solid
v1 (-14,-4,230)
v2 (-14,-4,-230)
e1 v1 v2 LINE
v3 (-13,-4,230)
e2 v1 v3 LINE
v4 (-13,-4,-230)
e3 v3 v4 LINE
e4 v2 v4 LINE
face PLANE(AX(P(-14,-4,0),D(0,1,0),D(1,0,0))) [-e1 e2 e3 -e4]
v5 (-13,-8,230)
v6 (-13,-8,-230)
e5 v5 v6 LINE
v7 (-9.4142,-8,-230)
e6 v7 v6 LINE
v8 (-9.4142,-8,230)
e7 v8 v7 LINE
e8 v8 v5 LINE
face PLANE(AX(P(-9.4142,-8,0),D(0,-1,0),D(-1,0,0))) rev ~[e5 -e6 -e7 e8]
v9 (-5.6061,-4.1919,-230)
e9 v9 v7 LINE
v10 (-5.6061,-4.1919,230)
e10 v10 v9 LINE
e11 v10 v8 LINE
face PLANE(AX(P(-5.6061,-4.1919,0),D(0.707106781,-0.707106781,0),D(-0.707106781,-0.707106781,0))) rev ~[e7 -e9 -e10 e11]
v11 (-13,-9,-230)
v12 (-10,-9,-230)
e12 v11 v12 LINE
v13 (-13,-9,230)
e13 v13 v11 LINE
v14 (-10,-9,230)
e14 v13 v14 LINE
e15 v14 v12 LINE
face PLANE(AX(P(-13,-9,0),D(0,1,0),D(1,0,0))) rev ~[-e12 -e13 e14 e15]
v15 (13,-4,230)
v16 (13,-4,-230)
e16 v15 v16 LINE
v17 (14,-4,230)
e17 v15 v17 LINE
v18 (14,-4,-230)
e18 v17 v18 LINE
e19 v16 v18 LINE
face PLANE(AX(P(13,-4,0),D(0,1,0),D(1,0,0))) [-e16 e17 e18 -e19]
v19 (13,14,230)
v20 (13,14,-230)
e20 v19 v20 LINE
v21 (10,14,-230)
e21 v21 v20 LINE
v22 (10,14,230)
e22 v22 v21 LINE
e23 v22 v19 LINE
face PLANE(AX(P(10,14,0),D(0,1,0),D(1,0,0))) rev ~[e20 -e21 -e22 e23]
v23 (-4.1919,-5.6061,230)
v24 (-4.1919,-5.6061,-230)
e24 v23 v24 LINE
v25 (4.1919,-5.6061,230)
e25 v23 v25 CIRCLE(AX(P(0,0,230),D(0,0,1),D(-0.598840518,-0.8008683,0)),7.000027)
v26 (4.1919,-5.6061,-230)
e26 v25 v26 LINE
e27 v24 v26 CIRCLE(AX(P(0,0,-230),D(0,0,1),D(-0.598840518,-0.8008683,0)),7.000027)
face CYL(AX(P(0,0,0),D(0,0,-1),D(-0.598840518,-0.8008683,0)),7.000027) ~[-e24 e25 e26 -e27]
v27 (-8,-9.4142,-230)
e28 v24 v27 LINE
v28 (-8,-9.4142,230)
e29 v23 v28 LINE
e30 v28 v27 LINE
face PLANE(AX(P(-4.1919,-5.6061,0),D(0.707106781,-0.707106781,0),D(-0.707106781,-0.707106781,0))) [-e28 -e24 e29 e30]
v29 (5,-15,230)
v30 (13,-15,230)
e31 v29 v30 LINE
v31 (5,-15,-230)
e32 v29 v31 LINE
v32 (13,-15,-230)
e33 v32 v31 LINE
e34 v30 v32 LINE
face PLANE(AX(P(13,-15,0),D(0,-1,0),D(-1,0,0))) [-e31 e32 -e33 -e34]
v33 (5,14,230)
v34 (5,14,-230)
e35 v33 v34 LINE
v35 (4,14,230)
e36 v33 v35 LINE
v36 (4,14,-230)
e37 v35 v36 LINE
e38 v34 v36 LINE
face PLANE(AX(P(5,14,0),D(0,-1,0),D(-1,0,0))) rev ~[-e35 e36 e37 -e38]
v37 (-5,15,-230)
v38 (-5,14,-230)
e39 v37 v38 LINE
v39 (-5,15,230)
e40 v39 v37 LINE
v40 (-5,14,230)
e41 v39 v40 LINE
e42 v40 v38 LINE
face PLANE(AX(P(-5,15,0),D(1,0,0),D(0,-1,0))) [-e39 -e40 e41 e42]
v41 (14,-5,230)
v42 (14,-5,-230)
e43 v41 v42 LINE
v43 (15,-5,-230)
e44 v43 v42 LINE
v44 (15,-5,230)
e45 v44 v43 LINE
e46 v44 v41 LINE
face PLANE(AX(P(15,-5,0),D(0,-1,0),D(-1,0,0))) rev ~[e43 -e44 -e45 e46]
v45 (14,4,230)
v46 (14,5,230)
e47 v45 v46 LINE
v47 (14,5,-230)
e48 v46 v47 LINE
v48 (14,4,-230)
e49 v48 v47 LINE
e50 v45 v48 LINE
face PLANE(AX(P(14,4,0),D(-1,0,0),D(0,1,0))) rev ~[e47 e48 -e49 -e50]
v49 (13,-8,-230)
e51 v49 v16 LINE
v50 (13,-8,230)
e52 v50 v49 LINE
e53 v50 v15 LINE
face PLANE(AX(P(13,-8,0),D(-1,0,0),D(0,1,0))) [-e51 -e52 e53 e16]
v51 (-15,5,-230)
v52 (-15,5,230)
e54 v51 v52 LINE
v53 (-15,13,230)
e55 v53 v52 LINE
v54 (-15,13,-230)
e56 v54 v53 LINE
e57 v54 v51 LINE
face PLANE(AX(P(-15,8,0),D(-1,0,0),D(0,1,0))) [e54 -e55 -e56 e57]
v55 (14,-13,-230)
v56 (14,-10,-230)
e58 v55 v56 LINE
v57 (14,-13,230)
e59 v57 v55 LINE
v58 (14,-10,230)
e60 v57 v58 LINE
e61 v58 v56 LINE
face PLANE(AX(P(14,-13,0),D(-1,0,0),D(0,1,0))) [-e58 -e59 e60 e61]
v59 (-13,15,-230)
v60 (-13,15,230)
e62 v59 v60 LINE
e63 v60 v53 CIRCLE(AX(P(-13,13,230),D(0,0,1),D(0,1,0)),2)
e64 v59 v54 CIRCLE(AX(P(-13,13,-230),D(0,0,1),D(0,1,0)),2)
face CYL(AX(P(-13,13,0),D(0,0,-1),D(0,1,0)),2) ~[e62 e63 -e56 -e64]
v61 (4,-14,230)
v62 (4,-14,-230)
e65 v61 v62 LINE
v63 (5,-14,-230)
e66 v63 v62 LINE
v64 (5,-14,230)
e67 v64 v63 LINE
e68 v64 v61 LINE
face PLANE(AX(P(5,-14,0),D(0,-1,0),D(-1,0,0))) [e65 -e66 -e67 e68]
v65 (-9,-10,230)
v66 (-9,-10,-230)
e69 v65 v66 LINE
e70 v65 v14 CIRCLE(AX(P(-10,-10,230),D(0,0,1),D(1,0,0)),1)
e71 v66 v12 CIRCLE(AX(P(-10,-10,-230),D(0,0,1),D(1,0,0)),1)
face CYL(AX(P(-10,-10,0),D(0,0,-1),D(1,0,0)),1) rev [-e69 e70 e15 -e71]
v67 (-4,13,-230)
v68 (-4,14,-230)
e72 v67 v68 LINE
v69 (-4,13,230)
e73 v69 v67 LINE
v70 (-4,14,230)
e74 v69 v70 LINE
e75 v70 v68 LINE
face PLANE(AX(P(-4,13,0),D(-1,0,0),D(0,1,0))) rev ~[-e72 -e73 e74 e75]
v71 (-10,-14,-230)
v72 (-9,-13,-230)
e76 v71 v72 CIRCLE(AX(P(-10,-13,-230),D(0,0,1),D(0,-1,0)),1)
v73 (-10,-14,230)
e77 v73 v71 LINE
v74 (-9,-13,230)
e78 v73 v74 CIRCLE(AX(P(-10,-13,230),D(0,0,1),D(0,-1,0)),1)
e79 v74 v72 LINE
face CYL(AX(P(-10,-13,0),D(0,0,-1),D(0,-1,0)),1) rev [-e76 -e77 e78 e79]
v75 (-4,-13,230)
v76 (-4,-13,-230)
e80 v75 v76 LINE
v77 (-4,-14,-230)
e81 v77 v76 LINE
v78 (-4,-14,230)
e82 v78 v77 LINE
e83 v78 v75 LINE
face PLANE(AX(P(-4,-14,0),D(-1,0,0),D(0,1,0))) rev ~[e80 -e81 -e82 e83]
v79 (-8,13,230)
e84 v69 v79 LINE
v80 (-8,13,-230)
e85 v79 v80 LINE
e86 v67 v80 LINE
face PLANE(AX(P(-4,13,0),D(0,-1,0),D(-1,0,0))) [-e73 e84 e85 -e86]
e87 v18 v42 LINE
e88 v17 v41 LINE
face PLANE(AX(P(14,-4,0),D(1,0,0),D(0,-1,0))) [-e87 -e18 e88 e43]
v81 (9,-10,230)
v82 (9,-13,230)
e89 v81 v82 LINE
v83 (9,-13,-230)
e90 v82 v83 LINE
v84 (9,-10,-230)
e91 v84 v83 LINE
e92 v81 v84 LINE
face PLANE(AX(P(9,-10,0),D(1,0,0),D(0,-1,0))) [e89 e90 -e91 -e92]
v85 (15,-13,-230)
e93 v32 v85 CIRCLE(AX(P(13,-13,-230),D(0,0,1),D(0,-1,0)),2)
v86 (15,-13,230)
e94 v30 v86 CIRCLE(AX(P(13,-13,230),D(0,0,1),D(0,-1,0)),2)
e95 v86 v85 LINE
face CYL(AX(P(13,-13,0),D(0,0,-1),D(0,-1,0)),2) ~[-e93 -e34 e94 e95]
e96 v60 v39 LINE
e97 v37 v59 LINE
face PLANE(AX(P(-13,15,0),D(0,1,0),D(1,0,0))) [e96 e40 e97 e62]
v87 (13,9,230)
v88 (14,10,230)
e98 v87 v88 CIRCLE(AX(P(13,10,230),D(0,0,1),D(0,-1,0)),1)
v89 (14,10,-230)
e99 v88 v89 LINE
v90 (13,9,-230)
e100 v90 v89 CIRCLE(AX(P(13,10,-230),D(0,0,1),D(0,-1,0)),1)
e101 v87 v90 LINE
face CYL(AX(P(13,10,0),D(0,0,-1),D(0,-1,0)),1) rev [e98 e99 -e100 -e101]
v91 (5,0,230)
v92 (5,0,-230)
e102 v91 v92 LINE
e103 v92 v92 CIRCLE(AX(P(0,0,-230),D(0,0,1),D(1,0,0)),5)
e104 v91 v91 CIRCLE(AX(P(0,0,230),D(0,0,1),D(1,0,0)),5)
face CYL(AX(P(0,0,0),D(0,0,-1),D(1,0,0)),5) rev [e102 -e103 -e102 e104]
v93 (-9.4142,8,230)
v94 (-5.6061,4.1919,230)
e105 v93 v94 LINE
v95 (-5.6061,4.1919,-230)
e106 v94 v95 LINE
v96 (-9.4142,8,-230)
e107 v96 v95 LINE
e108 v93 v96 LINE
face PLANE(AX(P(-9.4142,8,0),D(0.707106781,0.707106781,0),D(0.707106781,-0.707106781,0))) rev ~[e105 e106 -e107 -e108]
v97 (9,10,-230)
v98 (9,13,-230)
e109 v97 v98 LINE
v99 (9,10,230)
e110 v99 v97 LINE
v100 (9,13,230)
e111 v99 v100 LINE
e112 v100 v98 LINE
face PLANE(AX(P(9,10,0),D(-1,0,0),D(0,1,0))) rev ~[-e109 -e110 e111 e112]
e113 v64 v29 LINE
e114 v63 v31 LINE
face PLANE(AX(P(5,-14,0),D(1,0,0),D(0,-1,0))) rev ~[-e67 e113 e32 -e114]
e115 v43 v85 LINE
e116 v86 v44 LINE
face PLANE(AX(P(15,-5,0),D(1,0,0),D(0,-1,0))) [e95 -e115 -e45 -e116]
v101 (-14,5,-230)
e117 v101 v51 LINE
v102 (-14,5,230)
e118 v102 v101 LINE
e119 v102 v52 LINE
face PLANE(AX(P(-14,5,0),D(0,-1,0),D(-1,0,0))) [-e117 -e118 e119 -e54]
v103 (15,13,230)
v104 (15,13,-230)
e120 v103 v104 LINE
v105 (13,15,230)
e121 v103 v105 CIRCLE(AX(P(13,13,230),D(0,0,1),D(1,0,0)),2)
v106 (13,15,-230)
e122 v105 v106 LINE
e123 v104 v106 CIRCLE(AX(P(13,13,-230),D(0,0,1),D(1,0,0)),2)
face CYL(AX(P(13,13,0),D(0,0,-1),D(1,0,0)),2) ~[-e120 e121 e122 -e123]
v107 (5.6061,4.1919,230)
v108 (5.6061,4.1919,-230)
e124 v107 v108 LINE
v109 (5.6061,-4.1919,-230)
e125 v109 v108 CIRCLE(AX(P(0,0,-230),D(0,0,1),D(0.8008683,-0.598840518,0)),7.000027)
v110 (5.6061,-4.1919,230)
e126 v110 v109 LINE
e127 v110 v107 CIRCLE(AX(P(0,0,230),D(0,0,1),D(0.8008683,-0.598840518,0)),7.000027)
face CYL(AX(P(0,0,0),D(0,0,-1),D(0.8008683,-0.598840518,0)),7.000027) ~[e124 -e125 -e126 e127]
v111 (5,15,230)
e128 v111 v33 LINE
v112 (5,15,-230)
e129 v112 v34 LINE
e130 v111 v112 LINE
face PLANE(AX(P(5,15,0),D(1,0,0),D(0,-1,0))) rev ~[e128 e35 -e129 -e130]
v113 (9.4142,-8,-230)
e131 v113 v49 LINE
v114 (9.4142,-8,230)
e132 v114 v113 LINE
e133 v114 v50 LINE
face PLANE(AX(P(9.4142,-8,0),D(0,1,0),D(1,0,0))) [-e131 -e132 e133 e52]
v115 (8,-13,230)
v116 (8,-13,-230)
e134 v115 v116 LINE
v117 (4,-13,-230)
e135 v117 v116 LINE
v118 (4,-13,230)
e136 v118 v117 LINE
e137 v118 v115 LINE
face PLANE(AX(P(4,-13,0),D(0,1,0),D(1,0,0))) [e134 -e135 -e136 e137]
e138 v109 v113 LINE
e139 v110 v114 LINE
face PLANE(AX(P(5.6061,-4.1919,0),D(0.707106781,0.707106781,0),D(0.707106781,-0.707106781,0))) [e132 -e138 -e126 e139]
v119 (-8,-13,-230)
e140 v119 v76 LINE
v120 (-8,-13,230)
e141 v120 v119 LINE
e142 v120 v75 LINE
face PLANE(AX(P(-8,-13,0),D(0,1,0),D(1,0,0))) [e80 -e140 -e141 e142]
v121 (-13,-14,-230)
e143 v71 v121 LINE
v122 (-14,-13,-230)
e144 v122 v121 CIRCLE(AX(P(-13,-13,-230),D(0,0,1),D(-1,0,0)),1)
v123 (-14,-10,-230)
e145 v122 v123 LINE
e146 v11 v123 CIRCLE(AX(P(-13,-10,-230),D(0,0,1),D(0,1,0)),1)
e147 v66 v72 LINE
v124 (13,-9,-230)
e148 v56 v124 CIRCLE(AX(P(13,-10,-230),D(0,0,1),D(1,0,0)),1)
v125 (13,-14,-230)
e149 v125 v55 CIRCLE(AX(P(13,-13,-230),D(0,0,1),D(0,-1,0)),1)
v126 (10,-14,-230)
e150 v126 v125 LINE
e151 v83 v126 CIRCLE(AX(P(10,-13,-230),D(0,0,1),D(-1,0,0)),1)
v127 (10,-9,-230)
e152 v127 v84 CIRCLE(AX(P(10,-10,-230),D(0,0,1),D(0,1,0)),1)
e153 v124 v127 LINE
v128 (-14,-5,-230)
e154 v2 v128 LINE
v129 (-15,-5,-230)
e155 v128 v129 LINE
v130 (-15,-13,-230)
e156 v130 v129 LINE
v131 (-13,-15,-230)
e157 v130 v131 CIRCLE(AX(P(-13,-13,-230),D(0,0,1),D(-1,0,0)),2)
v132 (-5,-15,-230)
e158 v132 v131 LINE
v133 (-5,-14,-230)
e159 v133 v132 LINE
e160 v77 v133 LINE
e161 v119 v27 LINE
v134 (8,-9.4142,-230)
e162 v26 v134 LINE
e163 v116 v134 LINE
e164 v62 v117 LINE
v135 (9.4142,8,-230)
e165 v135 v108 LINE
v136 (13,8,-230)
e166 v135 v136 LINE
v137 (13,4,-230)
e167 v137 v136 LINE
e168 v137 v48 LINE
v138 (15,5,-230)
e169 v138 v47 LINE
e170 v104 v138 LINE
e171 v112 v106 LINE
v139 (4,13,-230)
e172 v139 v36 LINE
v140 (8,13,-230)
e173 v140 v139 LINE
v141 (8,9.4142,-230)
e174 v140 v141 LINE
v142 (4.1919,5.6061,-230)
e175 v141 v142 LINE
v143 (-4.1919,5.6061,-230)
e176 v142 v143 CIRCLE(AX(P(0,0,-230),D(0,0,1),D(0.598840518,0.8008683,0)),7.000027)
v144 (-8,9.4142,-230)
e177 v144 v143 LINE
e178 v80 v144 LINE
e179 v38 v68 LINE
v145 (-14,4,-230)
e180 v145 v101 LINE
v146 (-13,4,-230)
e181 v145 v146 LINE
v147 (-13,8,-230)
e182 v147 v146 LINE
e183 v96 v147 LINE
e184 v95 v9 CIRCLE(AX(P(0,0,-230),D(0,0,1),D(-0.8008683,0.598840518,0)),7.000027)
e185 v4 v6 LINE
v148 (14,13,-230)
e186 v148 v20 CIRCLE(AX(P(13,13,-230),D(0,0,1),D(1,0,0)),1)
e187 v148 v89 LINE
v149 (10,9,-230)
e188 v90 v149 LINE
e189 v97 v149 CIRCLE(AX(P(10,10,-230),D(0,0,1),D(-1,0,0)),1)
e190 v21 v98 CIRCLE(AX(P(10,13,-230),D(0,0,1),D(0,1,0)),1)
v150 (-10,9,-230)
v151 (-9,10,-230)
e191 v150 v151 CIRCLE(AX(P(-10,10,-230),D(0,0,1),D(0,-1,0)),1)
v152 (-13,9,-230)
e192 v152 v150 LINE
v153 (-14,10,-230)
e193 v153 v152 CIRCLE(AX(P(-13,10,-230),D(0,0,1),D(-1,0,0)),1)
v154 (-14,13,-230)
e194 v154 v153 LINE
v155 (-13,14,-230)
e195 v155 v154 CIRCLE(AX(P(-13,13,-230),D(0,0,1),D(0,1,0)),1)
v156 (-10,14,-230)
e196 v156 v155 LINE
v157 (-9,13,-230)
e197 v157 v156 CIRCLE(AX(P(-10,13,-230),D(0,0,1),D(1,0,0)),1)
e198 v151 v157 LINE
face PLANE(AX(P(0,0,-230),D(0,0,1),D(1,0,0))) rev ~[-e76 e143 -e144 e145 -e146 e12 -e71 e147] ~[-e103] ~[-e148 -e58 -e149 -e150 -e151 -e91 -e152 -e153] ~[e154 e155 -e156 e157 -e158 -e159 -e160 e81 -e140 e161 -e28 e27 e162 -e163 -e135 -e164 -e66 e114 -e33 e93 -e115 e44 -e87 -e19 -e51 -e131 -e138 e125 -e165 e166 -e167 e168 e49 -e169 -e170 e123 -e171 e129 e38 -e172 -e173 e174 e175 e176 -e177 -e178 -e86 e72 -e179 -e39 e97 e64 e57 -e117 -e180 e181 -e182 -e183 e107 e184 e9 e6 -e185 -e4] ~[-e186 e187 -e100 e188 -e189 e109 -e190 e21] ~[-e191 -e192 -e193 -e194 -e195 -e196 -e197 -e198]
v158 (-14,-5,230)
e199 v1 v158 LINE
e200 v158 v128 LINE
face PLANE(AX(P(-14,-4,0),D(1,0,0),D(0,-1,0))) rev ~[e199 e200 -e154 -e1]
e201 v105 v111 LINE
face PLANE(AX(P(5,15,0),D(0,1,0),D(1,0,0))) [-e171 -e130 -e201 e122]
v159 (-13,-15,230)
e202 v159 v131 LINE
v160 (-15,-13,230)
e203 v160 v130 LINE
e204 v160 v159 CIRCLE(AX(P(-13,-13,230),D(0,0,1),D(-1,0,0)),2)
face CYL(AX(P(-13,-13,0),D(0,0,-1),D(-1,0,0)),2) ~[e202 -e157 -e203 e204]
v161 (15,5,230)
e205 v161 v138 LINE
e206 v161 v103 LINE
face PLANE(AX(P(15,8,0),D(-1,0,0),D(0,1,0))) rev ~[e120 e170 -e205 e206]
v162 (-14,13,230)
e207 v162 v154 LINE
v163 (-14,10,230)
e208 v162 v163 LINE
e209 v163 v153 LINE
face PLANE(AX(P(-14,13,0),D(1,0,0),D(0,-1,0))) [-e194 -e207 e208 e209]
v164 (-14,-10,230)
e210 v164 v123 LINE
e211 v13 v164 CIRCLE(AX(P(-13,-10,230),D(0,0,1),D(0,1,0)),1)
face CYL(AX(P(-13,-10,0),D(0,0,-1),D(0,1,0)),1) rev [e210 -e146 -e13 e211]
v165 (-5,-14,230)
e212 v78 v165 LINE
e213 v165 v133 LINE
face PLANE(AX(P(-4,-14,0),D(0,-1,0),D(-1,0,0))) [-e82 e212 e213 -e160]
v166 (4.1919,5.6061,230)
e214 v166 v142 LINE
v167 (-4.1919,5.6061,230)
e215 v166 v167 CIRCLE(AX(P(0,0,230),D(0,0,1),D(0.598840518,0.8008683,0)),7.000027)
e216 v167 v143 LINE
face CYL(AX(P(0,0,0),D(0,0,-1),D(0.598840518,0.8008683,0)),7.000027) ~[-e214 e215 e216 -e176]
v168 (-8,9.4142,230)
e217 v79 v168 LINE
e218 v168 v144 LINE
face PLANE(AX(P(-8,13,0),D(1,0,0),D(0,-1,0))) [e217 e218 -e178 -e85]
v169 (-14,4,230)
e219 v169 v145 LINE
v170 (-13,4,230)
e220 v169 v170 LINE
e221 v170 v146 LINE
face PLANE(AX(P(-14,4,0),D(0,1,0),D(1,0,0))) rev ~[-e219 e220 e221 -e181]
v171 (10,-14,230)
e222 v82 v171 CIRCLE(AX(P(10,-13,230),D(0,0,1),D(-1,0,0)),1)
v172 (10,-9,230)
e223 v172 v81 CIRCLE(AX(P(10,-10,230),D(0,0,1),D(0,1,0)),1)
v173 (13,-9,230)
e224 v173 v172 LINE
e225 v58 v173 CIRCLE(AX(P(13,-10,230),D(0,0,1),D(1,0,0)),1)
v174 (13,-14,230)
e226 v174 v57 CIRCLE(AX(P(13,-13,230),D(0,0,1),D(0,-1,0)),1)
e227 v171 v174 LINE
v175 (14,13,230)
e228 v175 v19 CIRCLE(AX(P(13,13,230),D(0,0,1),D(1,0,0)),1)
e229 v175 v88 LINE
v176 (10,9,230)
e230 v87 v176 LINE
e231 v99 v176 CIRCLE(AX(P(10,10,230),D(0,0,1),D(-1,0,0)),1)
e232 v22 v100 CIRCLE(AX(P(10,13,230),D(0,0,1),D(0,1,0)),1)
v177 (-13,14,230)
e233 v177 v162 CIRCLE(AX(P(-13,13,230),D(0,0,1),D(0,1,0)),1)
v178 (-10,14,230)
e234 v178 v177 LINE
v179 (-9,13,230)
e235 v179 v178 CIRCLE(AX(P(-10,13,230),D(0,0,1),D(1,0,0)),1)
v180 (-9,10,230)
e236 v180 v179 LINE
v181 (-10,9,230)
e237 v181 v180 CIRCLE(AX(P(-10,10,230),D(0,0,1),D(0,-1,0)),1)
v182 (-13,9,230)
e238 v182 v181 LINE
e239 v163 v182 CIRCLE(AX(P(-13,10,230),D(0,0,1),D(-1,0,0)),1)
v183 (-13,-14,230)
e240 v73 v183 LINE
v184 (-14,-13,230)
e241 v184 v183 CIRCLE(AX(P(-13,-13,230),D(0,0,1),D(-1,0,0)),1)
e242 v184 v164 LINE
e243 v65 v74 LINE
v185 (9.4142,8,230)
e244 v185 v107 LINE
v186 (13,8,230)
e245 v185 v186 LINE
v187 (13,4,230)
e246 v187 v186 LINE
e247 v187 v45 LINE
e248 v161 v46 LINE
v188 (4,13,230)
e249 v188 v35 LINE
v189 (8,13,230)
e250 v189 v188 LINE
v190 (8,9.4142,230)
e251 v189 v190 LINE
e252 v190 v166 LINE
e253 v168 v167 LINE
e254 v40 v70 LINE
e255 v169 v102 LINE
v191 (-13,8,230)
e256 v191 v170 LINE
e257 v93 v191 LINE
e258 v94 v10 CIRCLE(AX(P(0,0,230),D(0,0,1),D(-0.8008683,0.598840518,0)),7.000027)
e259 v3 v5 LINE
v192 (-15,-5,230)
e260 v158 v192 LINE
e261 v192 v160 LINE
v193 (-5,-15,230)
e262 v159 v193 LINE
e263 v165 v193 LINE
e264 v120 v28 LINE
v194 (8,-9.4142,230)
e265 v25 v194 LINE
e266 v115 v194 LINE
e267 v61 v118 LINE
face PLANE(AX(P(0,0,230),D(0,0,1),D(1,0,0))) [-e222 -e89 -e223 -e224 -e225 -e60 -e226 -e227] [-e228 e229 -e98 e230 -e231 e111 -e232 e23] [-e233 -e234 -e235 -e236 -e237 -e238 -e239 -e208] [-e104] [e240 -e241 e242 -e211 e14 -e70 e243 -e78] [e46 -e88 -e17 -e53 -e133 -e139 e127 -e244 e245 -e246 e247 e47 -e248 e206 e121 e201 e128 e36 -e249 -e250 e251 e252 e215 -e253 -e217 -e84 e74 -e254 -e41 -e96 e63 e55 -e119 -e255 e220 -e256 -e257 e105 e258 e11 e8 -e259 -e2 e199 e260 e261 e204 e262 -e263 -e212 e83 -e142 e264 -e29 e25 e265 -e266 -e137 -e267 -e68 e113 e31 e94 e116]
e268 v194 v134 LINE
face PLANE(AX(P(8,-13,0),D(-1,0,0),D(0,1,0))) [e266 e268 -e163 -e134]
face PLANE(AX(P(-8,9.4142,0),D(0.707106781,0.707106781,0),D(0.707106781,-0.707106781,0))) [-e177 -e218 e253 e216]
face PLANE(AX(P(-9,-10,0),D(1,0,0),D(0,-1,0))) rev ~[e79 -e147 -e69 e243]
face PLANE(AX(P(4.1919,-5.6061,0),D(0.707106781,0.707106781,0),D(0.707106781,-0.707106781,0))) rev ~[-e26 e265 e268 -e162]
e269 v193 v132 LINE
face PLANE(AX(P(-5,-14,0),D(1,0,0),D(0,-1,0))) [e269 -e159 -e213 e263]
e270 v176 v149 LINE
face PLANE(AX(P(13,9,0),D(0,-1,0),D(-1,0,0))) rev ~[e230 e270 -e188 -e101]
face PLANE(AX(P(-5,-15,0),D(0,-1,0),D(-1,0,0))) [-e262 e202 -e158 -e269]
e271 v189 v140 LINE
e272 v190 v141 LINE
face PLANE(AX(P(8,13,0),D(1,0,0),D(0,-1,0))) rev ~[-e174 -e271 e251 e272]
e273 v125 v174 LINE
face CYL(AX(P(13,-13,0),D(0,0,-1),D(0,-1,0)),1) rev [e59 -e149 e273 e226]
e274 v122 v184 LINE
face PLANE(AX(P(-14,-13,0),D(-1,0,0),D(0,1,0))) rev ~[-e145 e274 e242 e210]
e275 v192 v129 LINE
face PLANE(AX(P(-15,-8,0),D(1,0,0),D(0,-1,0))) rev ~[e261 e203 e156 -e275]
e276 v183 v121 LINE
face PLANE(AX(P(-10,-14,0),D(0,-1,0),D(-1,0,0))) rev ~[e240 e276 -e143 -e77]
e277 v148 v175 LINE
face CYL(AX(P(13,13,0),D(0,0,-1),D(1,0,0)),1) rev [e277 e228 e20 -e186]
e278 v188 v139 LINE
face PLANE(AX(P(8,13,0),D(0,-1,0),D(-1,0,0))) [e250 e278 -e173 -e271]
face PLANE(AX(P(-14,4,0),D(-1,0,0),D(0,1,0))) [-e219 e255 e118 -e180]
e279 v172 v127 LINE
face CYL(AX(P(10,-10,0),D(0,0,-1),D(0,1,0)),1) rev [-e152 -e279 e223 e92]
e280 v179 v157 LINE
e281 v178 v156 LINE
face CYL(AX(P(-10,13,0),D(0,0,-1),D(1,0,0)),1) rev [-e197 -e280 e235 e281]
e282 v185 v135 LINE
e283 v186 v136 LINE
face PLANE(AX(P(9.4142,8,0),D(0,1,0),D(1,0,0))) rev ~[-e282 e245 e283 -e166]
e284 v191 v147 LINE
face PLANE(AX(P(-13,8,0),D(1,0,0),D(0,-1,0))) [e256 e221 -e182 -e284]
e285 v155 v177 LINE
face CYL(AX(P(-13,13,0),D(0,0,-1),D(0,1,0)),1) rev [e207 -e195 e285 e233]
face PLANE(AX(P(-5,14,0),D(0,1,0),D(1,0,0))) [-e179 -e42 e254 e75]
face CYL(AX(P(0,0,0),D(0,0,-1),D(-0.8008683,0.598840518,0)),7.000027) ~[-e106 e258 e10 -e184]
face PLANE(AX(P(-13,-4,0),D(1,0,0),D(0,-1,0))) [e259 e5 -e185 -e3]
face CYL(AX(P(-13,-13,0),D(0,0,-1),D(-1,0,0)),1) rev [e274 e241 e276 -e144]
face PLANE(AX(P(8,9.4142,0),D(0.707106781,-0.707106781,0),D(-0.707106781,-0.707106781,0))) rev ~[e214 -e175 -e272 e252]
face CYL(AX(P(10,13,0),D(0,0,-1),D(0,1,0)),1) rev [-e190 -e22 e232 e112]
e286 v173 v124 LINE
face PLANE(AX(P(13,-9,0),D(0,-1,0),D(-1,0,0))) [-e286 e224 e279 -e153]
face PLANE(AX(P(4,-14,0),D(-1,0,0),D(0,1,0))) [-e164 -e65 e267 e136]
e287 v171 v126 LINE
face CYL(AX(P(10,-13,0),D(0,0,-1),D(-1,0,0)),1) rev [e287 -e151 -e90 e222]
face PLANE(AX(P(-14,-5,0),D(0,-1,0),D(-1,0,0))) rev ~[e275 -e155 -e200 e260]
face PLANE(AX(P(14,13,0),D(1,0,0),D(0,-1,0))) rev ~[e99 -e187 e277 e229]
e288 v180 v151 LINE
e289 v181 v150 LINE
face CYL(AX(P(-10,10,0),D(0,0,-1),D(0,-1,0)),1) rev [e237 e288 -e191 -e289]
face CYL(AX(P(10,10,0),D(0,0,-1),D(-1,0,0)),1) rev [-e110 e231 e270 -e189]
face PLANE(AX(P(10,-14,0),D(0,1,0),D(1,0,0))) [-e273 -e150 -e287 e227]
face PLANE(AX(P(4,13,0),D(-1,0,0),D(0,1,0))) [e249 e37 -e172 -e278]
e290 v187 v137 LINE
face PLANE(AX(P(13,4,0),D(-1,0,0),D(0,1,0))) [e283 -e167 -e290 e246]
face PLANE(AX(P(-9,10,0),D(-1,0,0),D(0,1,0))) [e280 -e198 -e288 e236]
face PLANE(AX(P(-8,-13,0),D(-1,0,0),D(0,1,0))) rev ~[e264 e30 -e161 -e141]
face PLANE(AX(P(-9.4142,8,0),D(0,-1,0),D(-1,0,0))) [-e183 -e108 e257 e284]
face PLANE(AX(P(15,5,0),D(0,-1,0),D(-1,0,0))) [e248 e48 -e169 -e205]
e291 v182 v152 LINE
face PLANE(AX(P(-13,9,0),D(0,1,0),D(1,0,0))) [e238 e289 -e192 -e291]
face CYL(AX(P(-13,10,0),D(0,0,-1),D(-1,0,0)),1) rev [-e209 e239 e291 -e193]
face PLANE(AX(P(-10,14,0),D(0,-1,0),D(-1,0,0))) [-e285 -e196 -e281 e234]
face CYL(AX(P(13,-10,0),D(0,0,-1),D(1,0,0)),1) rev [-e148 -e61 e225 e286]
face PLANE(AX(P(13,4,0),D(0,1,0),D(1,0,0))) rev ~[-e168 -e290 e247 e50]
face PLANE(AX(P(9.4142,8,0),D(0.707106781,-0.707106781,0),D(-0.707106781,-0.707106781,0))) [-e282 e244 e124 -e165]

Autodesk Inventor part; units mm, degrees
ref_plane "YZ Plane" through (0, 0, 0) normal (1, 0, 0) x (0, 1, 0)
ref_plane "XZ Plane" through (0, 0, 0) normal (0, 1, 0) x (-1, 0, 0)
ref_plane "XY Plane" through (0, 0, 0) normal (0, 0, 1) x (1, 0, 0)
sketch "Sketch1" plane through (0, 0, 0) normal (0, 0, 1) x (1, 0, 0)
  circle A0 centre (0, 0) radius 5
  arc A1 (-13, 15) -> (-15, 13) centre (-13, 13) ccw
  arc A2 (-15, -13) -> (-13, -15) centre (-13, -13) ccw
  arc A3 (13, -15) -> (15, -13) centre (13, -13) ccw
  arc A4 (15, 13) -> (13, 15) centre (13, 13) ccw
  arc A5 (-13, 14) -> (-14, 13) centre (-13, 13) ccw
  arc A6 (-14, -13) -> (-13, -14) centre (-13, -13) ccw
  arc A7 (13, -14) -> (14, -13) centre (13, -13) ccw
  arc A8 (14, 13) -> (13, 14) centre (13, 13) ccw
  line L0 (14, -14) -> (-14, 14) construction
  line L1 (-14, -14) -> (14, 14) construction
  line L2 (15, -15) -> (-15, 15) construction
  line L3 (-15, -15) -> (15, 15) construction
  line L4 (-13, 15) -> (-8, 15)
  line L5 (-8, 13) -> (-8, 8) construction
  line L6 (-9.4142, 8) -> (-13, 8)
  line L7 (-15, 8) -> (-15, 13)
  line L8 (-13, -15) -> (-8, -15)
  line L9 (-8, -13) -> (-8, -9.4142)
  line L10 (-9.4142, -8) -> (-13, -8)
  line L11 (-15, -8) -> (-15, -13)
  line L12 (13, -15) -> (8, -15)
  line L13 (8, -13) -> (8, -9.4142)
  line L14 (9.4142, -8) -> (13, -8)
  line L15 (15, -8) -> (15, -13)
  line L16 (13, 15) -> (8, 15)
  line L17 (8, 13) -> (8, 9.4142)
  line L18 (9.4142, 8) -> (13, 8)
  line L19 (15, 8) -> (15, 13)
  line L20 (-13, 9) -> (-10, 9)
  line L21 (-9, 10) -> (-9, 13)
  line L22 (-10, 14) -> (-13, 14)
  line L23 (-14, 13) -> (-14, 10)
  line L24 (13, 9) -> (10, 9)
  line L25 (9, 10) -> (9, 13)
  line L26 (10, 14) -> (13, 14)
  line L27 (14, 13) -> (14, 10)
  line L28 (13, -9) -> (10, -9)
  line L29 (9, -10) -> (9, -13)
  line L30 (10, -14) -> (13, -14)
  line L31 (14, -13) -> (14, -10)
  line L32 (-13, -9) -> (-10, -9)
  line L33 (-9, -10) -> (-9, -13)
  line L34 (-10, -14) -> (-13, -14)
  line L35 (-14, -13) -> (-14, -10)
  line L36 (-14, 13) -> (-14, 10)
  line L37 (-14, -10) -> (-14, -13)
  line L38 (-14, -13) -> (-14, -10)
  line L39 (-14, 10) -> (-14, 13)
  line L40 (13, -15) -> (5, -15)
  line L41 (-5, -15) -> (-13, -15)
  line L42 (13, -15) -> (5, -15) construction
  line L43 (0, -15) -> (-13, -15) construction
  line L44 (4, -13) -> (8, -13)
  line L45 (-8, -13) -> (-4, -13)
  line L46 (10, -9) -> (13, -9)
  line L47 (14, -10) -> (14, -13)
  line L48 (13, -14) -> (10, -14)
  line L49 (9, -13) -> (9, -10)
  line L50 (5, -14) -> (5, -15)
  line L51 (13, -14) -> (10, -14)
  line L52 (5, -14) -> (4, -14)
  line L53 (4, -14) -> (5, -14)
  line L54 (10, -14) -> (13, -14)
  line L55 (-4, -14) -> (-5, -14)
  line L56 (-10, -14) -> (-13, -14)
  line L57 (-13, -14) -> (-10, -14)
  line L58 (-5, -14) -> (-4, -14)
  line L59 (14, -13) -> (14, -10)
  line L60 (14, 10) -> (14, 13)
  line L61 (14, 13) -> (14, 10)
  line L62 (14, -10) -> (14, -13)
  line L63 (-5, -14) -> (-5, -15)
  line L64 (10, 14) -> (13, 14)
  line L65 (13, 14) -> (10, 14)
  line L66 (-10, 14) -> (-13, 14)
  line L67 (-13, 14) -> (-10, 14)
  line L68 (-5, 15) -> (-5, 14)
  line L69 (-13, 15) -> (-5, 15)
  line L70 (5, 15) -> (13, 15)
  line L71 (-15, 15) -> (-5, 15) construction
  line L72 (5, 15) -> (15, 15) construction
  line L73 (5, 15) -> (5, 14)
  line L74 (8, 13) -> (4, 13)
  line L75 (5, 14) -> (4, 14)
  line L76 (-5, 14) -> (-4, 14)
  line L77 (4, 14) -> (5, 14)
  line L78 (-4, 13) -> (-8, 13)
  line L79 (-4, 14) -> (-5, 14)
  line L80 (4, 13) -> (4, 14)
  line L81 (-4, 13) -> (-4, 14)
  line L82 (-4, -14) -> (-4, -13)
  line L83 (4, -14) -> (4, -13)
  line L84 (-8, 9.4142) -> (-4.1919, 5.6061)
  line L85 (8, 9.4142) -> (4.1919, 5.6061)
  line L86 (9.4142, 8) -> (5.6061, 4.1919)
  line L87 (5.6061, -4.1919) -> (9.4142, -8)
  line L88 (4.1919, -5.6061) -> (8, -9.4142)
  line L89 (-4.1919, -5.6061) -> (-8, -9.4142)
  line L90 (-5.6061, -4.1919) -> (-9.4142, -8)
  line L91 (-9.4142, 8) -> (-5.6061, 4.1919)
  arc A9 (4.1919, 5.6061) -> (-4.1919, 5.6061) centre (0, 0) ccw
  arc A10 (5.6061, -4.1919) -> (5.6061, 4.1919) centre (0, 0) ccw
  arc A11 (-5.6061, 4.1919) -> (-5.6061, -4.1919) centre (0, 0) ccw
  arc A12 (-4.1919, -5.6061) -> (4.1919, -5.6061) centre (0, 0) ccw
  line L92 (-8, 13) -> (-8, 9.4142)
  line L93 (-15, -13) -> (-15, -5) construction
  line L94 (-15, -13) -> (-15, -5)
  line L95 (-15, 5) -> (-15, 13)
  line L96 (15, -5) -> (15, -13) construction
  line L97 (15, 13) -> (15, 5)
  line L98 (15, -5) -> (15, -13)
  line L99 (-14, -4) -> (-14, -5)
  line L100 (14, -4) -> (14, -5)
  line L101 (14, 4) -> (14, 5)
  line L102 (-14, 4) -> (-14, 5)
  line L103 (-13, 8) -> (-13, 4)
  line L104 (13, 4) -> (13, 8)
  line L105 (13, -8) -> (13, -4)
  line L106 (-13, -4) -> (-13, -8)
  line L107 (-14, -5) -> (-15, -5)
  line L108 (15, -5) -> (14, -5)
  line L109 (15, 5) -> (14, 5)
  line L110 (-14, 5) -> (-15, 5)
  line L111 (13, 4) -> (14, 4)
  line L112 (-14, 4) -> (-13, 4)
  line L113 (-14, -4) -> (-13, -4)
  line L114 (13, -4) -> (14, -4)
  arc A13 (-13, -9) -> (-14, -10) centre (-13, -10) ccw
  arc A14 (-9, -10) -> (-10, -9) centre (-10, -10) ccw
  arc A15 (-10, -14) -> (-9, -13) centre (-10, -13) ccw
  arc A16 (10, -9) -> (9, -10) centre (10, -10) ccw
  arc A17 (9, -13) -> (10, -14) centre (10, -13) ccw
  arc A18 (14, -10) -> (13, -9) centre (13, -10) ccw
  arc A19 (10, 14) -> (9, 13) centre (10, 13) ccw
  arc A20 (9, 10) -> (10, 9) centre (10, 10) ccw
  arc A21 (13, 9) -> (14, 10) centre (13, 10) ccw
  arc A22 (-9, 13) -> (-10, 14) centre (-10, 13) ccw
  arc A23 (-10, 9) -> (-9, 10) centre (-10, 10) ccw
  arc A24 (-14, 10) -> (-13, 9) centre (-13, 10) ccw
  point P0 (15, -15)
  point P1 (-5.5858, -7)
  dimension "d0" = 30
  dimension "d1" = 30
  dimension "d2" = 10
  dimension "d4" = 2
  dimension "d11" = 28
  dimension "d12" = 7
  dimension "d13" = 7
  dimension "d15" = 1
  dimension "d16" = 1
  dimension "d17" = 1
  dimension "d18" = 1
  dimension "d19" = 5
  dimension "d23" = 30
  dimension "d27" = 1
  dimension "d30" = 3.5858
  dimension "d31" = 2
  dimension "d32" = 16
  dimension "d33" = 8
  dimension "d34" = 6
  dimension "d35" = 5.5858
extrude "Extrusion1" add sketch "Sketch1" along normal mid plane 460
equation "\"d1\" = d0"
properties part number "silo_support" material "Aluminum 6061"
